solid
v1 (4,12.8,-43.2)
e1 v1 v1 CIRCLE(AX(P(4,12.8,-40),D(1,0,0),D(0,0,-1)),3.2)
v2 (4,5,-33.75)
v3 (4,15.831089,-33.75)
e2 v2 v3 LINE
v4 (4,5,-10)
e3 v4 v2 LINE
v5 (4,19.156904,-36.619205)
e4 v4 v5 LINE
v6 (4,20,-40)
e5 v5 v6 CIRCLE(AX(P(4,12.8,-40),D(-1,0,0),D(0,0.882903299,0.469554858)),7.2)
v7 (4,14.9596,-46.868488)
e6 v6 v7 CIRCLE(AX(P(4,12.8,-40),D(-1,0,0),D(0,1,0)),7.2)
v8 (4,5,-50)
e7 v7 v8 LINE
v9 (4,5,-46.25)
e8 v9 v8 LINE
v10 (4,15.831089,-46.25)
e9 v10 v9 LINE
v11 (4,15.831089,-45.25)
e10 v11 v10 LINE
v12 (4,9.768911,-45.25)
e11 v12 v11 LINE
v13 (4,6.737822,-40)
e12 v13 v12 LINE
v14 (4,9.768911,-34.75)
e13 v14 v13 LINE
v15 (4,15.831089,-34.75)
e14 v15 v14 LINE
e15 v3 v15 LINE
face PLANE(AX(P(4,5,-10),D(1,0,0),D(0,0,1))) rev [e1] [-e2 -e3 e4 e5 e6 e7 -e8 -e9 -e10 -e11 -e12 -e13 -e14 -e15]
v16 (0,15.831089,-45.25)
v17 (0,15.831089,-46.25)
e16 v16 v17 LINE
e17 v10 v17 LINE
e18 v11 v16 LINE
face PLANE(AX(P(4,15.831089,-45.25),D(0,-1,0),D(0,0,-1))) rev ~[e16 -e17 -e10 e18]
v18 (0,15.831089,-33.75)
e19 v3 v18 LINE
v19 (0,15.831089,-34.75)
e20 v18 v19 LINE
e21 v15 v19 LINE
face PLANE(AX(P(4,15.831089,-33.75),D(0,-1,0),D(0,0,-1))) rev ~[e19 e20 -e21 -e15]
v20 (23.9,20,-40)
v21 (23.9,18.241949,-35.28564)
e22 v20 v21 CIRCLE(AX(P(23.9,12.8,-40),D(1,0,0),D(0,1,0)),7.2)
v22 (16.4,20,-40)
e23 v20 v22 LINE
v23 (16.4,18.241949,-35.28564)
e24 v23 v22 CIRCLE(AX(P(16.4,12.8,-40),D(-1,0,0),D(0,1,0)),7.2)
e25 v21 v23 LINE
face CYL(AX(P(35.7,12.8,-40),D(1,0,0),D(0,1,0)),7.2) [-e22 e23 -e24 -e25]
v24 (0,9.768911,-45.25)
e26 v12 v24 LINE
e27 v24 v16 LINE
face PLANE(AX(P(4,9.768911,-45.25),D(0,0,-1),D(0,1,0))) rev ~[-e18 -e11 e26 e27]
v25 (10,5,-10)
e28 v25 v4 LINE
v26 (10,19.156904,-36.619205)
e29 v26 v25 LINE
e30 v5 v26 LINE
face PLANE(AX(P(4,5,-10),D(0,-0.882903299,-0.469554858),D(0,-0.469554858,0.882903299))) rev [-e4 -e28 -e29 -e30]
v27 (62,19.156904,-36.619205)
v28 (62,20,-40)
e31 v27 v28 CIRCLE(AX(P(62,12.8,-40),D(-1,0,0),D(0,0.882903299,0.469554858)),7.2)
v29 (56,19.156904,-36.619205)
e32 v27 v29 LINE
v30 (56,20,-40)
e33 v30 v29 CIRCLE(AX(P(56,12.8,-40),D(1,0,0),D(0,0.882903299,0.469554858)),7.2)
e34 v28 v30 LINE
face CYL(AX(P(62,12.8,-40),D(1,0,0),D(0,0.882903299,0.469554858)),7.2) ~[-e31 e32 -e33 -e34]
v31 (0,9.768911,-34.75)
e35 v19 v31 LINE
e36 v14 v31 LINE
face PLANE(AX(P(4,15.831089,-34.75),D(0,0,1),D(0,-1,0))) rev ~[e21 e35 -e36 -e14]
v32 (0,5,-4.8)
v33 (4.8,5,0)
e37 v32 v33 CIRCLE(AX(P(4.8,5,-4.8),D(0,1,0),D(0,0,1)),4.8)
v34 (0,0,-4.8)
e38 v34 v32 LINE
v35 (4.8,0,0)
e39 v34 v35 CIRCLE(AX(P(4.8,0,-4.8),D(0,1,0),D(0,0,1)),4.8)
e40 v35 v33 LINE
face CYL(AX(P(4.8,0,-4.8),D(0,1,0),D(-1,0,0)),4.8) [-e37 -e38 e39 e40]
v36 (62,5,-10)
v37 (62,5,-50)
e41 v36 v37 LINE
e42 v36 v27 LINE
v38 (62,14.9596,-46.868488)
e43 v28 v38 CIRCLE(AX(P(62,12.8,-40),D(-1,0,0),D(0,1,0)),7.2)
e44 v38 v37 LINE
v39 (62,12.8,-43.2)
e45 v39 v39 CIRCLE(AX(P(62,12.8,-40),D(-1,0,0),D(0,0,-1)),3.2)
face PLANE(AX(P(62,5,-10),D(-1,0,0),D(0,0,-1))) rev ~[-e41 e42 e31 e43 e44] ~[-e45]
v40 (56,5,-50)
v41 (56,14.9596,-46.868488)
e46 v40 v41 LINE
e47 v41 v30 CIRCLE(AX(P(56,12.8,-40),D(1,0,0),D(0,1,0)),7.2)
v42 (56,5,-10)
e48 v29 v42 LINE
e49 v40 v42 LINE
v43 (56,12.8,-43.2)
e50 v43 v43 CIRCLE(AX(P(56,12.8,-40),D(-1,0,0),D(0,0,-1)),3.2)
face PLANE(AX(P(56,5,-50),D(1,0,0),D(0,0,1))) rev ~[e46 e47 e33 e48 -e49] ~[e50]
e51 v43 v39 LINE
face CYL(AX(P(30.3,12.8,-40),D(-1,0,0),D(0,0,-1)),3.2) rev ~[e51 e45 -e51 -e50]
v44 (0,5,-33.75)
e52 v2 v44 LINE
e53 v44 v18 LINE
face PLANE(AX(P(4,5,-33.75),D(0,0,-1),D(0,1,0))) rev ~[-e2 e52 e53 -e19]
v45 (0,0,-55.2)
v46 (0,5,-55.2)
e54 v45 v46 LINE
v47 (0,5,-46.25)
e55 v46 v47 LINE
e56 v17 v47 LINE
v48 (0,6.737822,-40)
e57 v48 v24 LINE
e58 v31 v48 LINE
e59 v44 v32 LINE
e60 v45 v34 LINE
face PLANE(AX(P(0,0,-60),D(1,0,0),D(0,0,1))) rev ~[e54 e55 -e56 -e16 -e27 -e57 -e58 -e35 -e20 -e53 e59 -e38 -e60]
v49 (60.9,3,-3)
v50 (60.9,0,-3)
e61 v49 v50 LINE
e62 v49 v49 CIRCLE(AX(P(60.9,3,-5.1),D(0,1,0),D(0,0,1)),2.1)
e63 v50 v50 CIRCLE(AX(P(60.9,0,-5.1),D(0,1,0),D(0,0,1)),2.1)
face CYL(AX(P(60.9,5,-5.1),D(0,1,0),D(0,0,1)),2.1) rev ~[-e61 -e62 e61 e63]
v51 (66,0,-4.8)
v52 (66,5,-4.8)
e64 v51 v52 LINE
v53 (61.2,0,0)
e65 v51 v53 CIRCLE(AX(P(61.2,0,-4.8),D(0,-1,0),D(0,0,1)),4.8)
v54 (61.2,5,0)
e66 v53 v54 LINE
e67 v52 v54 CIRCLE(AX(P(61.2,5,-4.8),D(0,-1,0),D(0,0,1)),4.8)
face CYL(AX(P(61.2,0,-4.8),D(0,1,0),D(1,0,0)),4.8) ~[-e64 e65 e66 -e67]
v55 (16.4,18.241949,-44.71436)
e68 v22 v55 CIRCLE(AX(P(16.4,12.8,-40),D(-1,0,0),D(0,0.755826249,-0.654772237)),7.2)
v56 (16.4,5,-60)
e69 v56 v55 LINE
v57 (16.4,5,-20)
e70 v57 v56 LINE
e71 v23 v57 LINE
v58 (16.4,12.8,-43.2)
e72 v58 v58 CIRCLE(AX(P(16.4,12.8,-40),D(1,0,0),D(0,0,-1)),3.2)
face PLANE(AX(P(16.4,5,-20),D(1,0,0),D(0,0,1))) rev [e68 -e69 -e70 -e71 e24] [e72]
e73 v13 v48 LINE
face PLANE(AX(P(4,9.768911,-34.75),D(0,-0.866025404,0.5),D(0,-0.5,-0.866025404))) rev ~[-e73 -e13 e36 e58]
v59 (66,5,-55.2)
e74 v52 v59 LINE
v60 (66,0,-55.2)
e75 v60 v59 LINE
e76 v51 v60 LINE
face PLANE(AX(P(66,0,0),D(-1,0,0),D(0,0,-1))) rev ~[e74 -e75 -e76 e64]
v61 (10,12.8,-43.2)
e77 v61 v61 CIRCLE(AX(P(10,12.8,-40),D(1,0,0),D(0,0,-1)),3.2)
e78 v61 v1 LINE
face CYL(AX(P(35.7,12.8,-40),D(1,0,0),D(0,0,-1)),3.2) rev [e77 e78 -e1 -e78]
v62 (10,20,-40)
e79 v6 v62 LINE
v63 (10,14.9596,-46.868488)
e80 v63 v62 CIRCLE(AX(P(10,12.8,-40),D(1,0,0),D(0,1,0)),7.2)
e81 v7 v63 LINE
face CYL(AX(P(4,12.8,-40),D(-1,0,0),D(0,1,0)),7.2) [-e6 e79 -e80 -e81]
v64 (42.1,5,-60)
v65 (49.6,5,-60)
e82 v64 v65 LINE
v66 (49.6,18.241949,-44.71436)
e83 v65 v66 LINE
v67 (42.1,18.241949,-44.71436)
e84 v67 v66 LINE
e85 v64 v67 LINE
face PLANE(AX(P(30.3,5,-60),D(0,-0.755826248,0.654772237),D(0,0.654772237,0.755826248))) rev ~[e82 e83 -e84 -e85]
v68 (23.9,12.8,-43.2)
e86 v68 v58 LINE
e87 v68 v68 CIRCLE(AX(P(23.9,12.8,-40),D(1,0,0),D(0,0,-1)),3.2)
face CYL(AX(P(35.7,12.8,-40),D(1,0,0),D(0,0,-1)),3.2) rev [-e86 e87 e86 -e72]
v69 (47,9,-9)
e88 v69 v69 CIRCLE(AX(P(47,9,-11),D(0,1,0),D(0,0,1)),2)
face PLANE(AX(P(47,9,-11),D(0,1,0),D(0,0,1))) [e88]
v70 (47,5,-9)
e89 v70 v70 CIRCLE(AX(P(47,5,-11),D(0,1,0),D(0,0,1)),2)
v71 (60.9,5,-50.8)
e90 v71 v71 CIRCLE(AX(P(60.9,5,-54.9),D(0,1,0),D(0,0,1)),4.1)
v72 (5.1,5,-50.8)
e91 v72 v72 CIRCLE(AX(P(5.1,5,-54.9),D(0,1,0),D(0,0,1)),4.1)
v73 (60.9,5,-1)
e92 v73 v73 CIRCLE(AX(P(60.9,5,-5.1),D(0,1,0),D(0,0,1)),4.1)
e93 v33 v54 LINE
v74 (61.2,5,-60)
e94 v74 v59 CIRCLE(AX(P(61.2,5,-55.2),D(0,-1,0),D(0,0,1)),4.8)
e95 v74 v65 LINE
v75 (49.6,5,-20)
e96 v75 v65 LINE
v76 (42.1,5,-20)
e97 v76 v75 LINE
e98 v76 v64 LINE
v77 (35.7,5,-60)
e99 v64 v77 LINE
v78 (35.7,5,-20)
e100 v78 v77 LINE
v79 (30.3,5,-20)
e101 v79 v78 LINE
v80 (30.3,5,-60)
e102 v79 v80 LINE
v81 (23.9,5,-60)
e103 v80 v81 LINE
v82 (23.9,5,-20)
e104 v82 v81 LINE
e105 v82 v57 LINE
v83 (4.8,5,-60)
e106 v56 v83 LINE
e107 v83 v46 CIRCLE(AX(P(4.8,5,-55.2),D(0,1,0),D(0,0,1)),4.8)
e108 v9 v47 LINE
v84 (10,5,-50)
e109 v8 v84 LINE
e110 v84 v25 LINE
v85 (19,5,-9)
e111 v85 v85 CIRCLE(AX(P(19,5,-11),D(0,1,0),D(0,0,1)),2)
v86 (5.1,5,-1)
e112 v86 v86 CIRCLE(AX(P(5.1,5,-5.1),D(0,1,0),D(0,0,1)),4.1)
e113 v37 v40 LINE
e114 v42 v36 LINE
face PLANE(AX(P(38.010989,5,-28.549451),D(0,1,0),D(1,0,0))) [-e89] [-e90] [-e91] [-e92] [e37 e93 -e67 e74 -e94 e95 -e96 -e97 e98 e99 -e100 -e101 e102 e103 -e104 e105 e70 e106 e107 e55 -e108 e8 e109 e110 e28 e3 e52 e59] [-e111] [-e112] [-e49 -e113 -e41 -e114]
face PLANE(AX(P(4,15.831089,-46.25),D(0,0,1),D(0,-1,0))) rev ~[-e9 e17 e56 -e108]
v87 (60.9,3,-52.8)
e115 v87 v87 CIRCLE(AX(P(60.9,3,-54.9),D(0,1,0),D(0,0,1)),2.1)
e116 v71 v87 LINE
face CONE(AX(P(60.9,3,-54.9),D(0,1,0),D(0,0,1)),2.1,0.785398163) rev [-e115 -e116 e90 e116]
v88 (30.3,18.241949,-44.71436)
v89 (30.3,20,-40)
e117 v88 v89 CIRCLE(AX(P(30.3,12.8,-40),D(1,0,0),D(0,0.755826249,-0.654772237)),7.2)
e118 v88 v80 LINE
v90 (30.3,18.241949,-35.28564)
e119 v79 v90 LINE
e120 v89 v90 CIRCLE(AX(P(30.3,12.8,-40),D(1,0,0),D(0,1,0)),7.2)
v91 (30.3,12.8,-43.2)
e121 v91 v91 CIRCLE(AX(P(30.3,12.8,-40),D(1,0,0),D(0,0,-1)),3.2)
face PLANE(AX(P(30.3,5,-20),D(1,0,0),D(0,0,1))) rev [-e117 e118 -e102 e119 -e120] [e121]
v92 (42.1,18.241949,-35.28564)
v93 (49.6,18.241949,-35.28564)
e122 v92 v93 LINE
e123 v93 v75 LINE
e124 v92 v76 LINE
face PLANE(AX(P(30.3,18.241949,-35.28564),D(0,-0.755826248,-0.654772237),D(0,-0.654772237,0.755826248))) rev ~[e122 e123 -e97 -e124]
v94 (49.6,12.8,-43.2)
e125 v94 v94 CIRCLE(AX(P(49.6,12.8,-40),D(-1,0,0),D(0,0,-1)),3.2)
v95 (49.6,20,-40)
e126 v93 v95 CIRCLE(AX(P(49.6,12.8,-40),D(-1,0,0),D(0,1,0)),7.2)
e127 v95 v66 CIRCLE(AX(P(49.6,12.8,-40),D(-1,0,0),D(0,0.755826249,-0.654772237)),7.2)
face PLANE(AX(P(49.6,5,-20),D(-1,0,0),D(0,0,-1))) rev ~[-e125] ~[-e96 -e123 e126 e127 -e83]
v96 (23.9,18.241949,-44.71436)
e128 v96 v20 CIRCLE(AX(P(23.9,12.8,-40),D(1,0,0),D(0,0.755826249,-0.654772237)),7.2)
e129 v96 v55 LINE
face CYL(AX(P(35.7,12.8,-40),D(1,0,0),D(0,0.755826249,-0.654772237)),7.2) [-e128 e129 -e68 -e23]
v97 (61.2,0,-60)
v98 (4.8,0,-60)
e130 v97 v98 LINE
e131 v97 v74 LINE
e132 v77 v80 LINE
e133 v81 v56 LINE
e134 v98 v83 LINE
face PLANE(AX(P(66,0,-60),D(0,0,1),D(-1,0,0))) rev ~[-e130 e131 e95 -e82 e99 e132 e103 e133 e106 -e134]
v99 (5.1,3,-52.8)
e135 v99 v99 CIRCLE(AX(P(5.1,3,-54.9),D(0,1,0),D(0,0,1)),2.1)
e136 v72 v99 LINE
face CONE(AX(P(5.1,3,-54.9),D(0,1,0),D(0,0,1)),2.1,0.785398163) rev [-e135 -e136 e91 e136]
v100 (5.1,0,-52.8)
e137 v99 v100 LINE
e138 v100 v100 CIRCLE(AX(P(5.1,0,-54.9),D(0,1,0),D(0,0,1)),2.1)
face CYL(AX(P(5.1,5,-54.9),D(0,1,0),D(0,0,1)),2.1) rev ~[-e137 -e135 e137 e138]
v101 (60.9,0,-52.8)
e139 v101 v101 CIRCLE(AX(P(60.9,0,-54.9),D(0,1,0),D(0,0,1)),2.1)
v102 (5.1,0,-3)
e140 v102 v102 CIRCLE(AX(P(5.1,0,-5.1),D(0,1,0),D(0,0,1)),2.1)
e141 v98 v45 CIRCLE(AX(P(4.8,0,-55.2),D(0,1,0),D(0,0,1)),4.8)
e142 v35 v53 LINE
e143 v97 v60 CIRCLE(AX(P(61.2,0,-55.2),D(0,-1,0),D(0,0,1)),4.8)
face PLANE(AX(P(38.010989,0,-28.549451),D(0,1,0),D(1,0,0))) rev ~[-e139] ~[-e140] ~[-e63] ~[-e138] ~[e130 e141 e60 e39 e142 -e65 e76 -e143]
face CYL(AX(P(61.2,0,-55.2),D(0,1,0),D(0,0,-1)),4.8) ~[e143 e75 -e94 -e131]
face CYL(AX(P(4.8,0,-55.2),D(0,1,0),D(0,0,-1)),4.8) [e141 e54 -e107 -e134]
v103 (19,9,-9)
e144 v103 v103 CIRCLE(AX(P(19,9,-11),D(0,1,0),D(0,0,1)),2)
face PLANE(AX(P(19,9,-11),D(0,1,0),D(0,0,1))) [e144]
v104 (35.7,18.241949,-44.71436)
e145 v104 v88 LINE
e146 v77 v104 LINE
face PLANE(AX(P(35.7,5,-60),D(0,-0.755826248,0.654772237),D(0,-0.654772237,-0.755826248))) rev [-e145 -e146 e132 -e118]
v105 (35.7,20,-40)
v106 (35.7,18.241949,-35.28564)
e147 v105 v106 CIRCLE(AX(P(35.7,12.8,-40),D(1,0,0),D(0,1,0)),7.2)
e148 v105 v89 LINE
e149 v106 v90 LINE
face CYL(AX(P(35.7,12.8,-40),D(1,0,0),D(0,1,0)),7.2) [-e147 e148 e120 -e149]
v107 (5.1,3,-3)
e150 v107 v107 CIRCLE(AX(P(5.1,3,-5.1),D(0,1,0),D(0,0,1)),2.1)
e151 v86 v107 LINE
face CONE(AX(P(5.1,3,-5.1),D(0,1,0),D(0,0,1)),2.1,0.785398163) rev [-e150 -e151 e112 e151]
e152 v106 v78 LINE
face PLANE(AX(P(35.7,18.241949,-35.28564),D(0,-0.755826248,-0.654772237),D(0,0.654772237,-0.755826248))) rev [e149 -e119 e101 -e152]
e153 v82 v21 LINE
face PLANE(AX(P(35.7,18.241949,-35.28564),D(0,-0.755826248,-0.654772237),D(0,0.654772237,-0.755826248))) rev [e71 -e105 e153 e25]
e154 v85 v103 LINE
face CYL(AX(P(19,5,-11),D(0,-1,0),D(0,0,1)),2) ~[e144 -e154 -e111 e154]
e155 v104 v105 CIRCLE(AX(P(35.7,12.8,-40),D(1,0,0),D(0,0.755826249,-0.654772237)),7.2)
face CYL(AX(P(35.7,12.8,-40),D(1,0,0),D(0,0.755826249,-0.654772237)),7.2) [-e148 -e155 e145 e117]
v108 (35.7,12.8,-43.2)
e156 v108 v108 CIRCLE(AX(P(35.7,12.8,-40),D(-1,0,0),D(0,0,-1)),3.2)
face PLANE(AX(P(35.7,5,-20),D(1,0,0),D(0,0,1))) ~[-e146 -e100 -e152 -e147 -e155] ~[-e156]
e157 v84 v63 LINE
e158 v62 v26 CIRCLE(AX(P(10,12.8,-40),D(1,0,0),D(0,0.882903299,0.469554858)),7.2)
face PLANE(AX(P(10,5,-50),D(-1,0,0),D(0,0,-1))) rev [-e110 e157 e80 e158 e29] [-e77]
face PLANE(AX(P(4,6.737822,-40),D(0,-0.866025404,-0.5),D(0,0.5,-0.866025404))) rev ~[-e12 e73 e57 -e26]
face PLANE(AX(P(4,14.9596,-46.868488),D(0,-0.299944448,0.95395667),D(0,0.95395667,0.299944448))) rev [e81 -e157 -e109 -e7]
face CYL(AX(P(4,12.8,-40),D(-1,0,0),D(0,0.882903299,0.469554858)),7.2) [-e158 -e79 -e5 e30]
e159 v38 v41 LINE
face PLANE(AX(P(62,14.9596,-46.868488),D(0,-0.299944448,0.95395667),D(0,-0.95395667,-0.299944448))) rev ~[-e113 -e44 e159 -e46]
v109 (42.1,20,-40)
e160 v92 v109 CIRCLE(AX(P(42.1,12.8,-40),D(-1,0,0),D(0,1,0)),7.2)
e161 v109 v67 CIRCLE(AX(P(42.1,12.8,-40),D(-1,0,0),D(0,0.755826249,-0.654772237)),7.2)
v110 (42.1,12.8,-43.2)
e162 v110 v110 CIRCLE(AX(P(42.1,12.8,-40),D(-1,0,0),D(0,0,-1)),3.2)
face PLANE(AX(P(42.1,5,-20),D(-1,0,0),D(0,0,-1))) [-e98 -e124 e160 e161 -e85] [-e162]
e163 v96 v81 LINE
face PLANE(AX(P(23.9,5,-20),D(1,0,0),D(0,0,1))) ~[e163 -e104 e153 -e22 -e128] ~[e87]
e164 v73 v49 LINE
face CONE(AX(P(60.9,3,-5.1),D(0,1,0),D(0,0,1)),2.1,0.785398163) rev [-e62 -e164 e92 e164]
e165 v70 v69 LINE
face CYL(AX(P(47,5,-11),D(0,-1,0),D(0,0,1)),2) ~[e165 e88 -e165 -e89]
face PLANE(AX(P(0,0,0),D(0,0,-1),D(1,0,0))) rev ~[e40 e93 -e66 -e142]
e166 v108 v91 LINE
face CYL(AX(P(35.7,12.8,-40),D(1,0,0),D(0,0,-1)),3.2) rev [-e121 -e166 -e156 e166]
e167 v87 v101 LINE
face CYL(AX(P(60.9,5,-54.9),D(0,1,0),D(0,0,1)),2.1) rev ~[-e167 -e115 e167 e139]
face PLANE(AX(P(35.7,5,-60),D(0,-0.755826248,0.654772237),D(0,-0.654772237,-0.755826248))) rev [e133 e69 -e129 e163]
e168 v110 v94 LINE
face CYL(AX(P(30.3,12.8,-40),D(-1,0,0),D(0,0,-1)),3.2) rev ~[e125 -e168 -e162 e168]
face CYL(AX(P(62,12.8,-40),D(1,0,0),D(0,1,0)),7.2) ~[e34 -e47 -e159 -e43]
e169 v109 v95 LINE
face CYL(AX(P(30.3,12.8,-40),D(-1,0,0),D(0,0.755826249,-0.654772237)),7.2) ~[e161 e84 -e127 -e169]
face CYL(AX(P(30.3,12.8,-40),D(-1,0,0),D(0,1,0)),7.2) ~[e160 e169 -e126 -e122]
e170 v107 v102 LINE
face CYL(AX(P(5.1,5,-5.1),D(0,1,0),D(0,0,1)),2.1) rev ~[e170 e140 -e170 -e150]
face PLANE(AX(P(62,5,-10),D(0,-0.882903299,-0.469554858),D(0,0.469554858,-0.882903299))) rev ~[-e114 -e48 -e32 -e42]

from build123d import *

# Parameters (mm, degrees)
SKETCH4_W           = 6.4
SKETCH4_H           = 40
SKETCH4_W_2         = 5.4
SKETCH4_W_3         = 7.5
BOSS_EXTRUDE4_DEPTH = 5
SKETCH6_W           = 5.4
SKETCH6_H           = 40
SKETCH6_W_2         = 7.5
BOSS_EXTRUDE5_DEPTH = 15
SKETCH7_R           = 3.2
CUT_EXTRUDE2_DEPTH  = 73.625684162
CUT_EXTRUDE3_REACH  = 74.626
CUT_EXTRUDE4_REACH  = 90.566
CUT_EXTRUDE5_REACH  = 92.449
SKETCH10_R          = 2.1
CHAMFER1_SIZE       = 2
FILLET1_R           = 4.8
SKETCH11_R          = 2
BOSS_EXTRUDE6_DEPTH = 4
BOSS_EXTRUDE7_DEPTH = 4


with BuildPart() as part:
    # Sketch4 → Boss-Extrude4 (new body)
    with BuildSketch(Plane(origin=(0, 0, 0), x_dir=(1, 0, 0), z_dir=(0, 1, 0))):
        Polygon((0, 60), (0, 0), (66, 0), (66, 60), (56, 60), (56, 50), (62, 50), (62, 10), (56, 10), (56, 20), (49.6, 20), (42.1, 20), (35.7, 20), (30.3, 20), (30.3, 60), align=None)
        with Locations((38.9, 40)):
            Rectangle(SKETCH4_W, SKETCH4_H)
        with Locations((33, 40)):
            Rectangle(SKETCH4_W_2, SKETCH4_H)
        with Locations((45.85, 40)):
            Rectangle(SKETCH4_W_3, SKETCH4_H)
        Polygon((56, 50), (56, 60), (49.6, 60), (49.6, 20), (56, 20), align=None)
        Polygon((62, 50), (56, 50), (56, 20), (56, 10), (62, 10), align=None)
    extrude(amount=BOSS_EXTRUDE4_DEPTH)

    # Sketch6 → Boss-Extrude5 (add)
    with BuildSketch(Plane(origin=(0, 5, 0), x_dir=(1, 0, 0), z_dir=(0, 1, 0))):
        with Locations((33, 40)):
            Rectangle(SKETCH6_W, SKETCH6_H)
        with Locations((45.85, 40)):
            Rectangle(SKETCH6_W_2, SKETCH6_H)
        Polygon((62, 50), (56, 50), (56, 20), (56, 10), (62, 10), align=None)
    boss_extrude5 = extrude(amount=BOSS_EXTRUDE5_DEPTH)

    # Sketch7 → Cut-Extrude2 (cut, through all)
    with BuildSketch(Plane.ZY.offset(-30.3)):
        with Locations(Location((-40, 12.8, 0), (0, 0, 180))):
            Circle(SKETCH7_R)
    cut_extrude2 = extrude(amount=-CUT_EXTRUDE2_DEPTH, mode=Mode.SUBTRACT)

    # Cut-Extrude3: up to this face of the body (flat: up to its plane)
    cut_extrude3_end = Plane(part.part.faces().sort_by_distance((49.6, 12.5, -20.427200187))[0])
    # Sketch8 → Cut-Extrude3 (cut, up to the picked face)
    with BuildSketch(Plane.ZY.offset(-30.3), mode=Mode.PRIVATE) as cut_extrude3_sk1:
        with BuildLine():
            Line((-60, 20), (-60, 5))
            Line((-60, 5), (-44.714360106, 18.241948989))
            ThreePointArc((-44.714360106, 18.241948989), (-42.515747134, 19.546185319), (-40, 20))
            Line((-40, 20), (-60, 20))
        make_face()
    cut_extrude3_tool1 = split(extrude(cut_extrude3_sk1.sketch, amount=-CUT_EXTRUDE3_REACH, mode=Mode.PRIVATE), bisect_by=cut_extrude3_end, keep=Keep.BOTH, mode=Mode.PRIVATE)
    # Sketch8 → Cut-Extrude3 (cut, up to the picked face)
    with BuildSketch(Plane.ZY.offset(-30.3), mode=Mode.PRIVATE) as cut_extrude3_sk2:
        with BuildLine():
            Line((-35.285639894, 18.241948989), (-20, 5))
            Line((-20, 5), (-20, 20))
            Line((-20, 20), (-40, 20))
            ThreePointArc((-40, 20), (-37.484252866, 19.546185319), (-35.285639894, 18.241948989))
        make_face()
    cut_extrude3_tool2 = split(extrude(cut_extrude3_sk2.sketch, amount=-CUT_EXTRUDE3_REACH, mode=Mode.PRIVATE), bisect_by=cut_extrude3_end, keep=Keep.BOTH, mode=Mode.PRIVATE)
    cut_extrude3_1 = cut_extrude3_tool1.solids().sort_by(Axis((30.3, 15.029403, -54.154339), (1, 0, 0)))[0]
    add(cut_extrude3_1, mode=Mode.SUBTRACT)
    cut_extrude3_2 = cut_extrude3_tool2.solids().sort_by(Axis((30.3, 15.029403, -25.845661), (1, 0, 0)))[0]
    add(cut_extrude3_2, mode=Mode.SUBTRACT)
    cut_extrude3 = cut_extrude3_1 + cut_extrude3_2  # Cut-Extrude3 as one shape, for the pattern or mirror that repeats it

    # Sketch9 → Cut-Extrude4 (cut, up to next)
    with BuildSketch(Plane(origin=(62, 0, 0), x_dir=(0, 0, -1), z_dir=(1, 0, 0)), mode=Mode.PRIVATE) as cut_extrude4_sk1:
        with BuildLine():
            ThreePointArc((36.619205024, 19.156903753), (38.257832819, 19.786047059), (40, 20))
            Line((40, 20), (10, 20))
            Line((10, 20), (10, 5))
            Line((10, 5), (36.619205024, 19.156903753))
        make_face()
    cut_extrude4_tool1 = extrude(cut_extrude4_sk1.sketch, amount=-CUT_EXTRUDE4_REACH, mode=Mode.PRIVATE) & part.part
    # Sketch9 → Cut-Extrude4 (cut, up to next)
    with BuildSketch(Plane(origin=(62, 0, 0), x_dir=(0, 0, -1), z_dir=(1, 0, 0)), mode=Mode.PRIVATE) as cut_extrude4_sk2:
        with BuildLine():
            ThreePointArc((40, 20), (44.259746459, 18.604701552), (46.868488023, 14.959600029))
            Line((46.868488023, 14.959600029), (50, 5))
            Line((50, 5), (50, 20))
            Line((50, 20), (40, 20))
        make_face()
    cut_extrude4_tool2 = extrude(cut_extrude4_sk2.sketch, amount=-CUT_EXTRUDE4_REACH, mode=Mode.PRIVATE) & part.part
    cut_extrude4_1 = cut_extrude4_tool1.solids().sort_by_distance((62, 15.005893, -19.424487))[0]
    add(cut_extrude4_1, mode=Mode.SUBTRACT)
    cut_extrude4_2 = cut_extrude4_tool2.solids().sort_by_distance((62, 15.504148, -47.92116))[0]
    add(cut_extrude4_2, mode=Mode.SUBTRACT)
    cut_extrude4 = cut_extrude4_1 + cut_extrude4_2  # Cut-Extrude4 as one shape, for the pattern or mirror that repeats it

    # Mirror1: Boss-Extrude5, Cut-Extrude2, Cut-Extrude3, Cut-Extrude4 across plane
    add(boss_extrude5.mirror(Plane.ZY.offset(-33)))
    add(cut_extrude2.mirror(Plane.ZY.offset(-33)), mode=Mode.SUBTRACT)
    add(cut_extrude3.mirror(Plane.ZY.offset(-33)), mode=Mode.SUBTRACT)
    add(cut_extrude4.mirror(Plane.ZY.offset(-33)), mode=Mode.SUBTRACT)

    # Sketch10 → Cut-Extrude5 (cut, up to next)
    with BuildSketch(Plane(origin=(0, 5, 0), x_dir=(1, 0, 0), z_dir=(0, 1, 0)), mode=Mode.PRIVATE) as cut_extrude5_sk1:
        with Locations(Location((5.1, 54.9, 0), (0, 0, 270))):
            Circle(SKETCH10_R)
    cut_extrude5_tool1 = extrude(cut_extrude5_sk1.sketch, amount=-CUT_EXTRUDE5_REACH, mode=Mode.PRIVATE) & part.part
    # Sketch10 → Cut-Extrude5 (cut, up to next)
    with BuildSketch(Plane(origin=(0, 5, 0), x_dir=(1, 0, 0), z_dir=(0, 1, 0)), mode=Mode.PRIVATE) as cut_extrude5_sk2:
        with Locations(Location((60.9, 54.9, 0), (0, 0, 270))):
            Circle(SKETCH10_R)
    cut_extrude5_tool2 = extrude(cut_extrude5_sk2.sketch, amount=-CUT_EXTRUDE5_REACH, mode=Mode.PRIVATE) & part.part
    # Sketch10 → Cut-Extrude5 (cut, up to next)
    with BuildSketch(Plane(origin=(0, 5, 0), x_dir=(1, 0, 0), z_dir=(0, 1, 0)), mode=Mode.PRIVATE) as cut_extrude5_sk3:
        with Locations(Location((60.9, 5.1, 0), (0, 0, 270))):
            Circle(SKETCH10_R)
    cut_extrude5_tool3 = extrude(cut_extrude5_sk3.sketch, amount=-CUT_EXTRUDE5_REACH, mode=Mode.PRIVATE) & part.part
    # Sketch10 → Cut-Extrude5 (cut, up to next)
    with BuildSketch(Plane(origin=(0, 5, 0), x_dir=(1, 0, 0), z_dir=(0, 1, 0)), mode=Mode.PRIVATE) as cut_extrude5_sk4:
        with Locations(Location((5.1, 5.1, 0), (0, 0, 270))):
            Circle(SKETCH10_R)
    cut_extrude5_tool4 = extrude(cut_extrude5_sk4.sketch, amount=-CUT_EXTRUDE5_REACH, mode=Mode.PRIVATE) & part.part
    add(cut_extrude5_tool1.solids().sort_by_distance((5.1, 5, -54.9))[0], mode=Mode.SUBTRACT)
    add(cut_extrude5_tool2.solids().sort_by_distance((60.9, 5, -54.9))[0], mode=Mode.SUBTRACT)
    add(cut_extrude5_tool3.solids().sort_by_distance((60.9, 5, -5.1))[0], mode=Mode.SUBTRACT)
    add(cut_extrude5_tool4.solids().sort_by_distance((5.1, 5, -5.1))[0], mode=Mode.SUBTRACT)

    # Chamfer1
    chamfer1_edges = [part.edges().sort_by_distance(p)[0] for p in [
        (5.1, 5, -7.2),
        (60.9, 5, -7.2),
        (60.9, 5, -57),
        (5.1, 5, -57),
    ]]
    chamfer(chamfer1_edges, length=CHAMFER1_SIZE)

    # Fillet1
    fillet1_edges = [part.edges().sort_by_distance(p)[0] for p in [
        (66, 2.5, 0),
        (0, 2.5, 0),
        (0, 2.5, -60),
        (66, 2.5, -60),
    ]]
    fillet(fillet1_edges, radius=FILLET1_R)

    # Sketch11 → Boss-Extrude6 (add)
    with BuildSketch(Plane(origin=(0, 5, 0), x_dir=(1, 0, 0), z_dir=(0, 1, 0))):
        with Locations(Location((19, 11, 0), (0, 0, 270))):
            Circle(SKETCH11_R)
        with Locations(Location((47, 11, 0), (0, 0, 270))):
            Circle(SKETCH11_R)
    extrude(amount=BOSS_EXTRUDE6_DEPTH)

    # Sketch12 → Boss-Extrude7 (add)
    with BuildSketch(Plane.ZY.offset(-4)):
        Polygon((-45.25, 9.768911087), (-45.25, 15.831088913), (-46.25, 15.831088913), (-46.25, 5), (-33.75, 5), (-33.75, 15.831088913), (-34.75, 15.831088913), (-34.75, 9.768911087), (-40, 6.737822174), align=None)
    extrude(amount=BOSS_EXTRUDE7_DEPTH)


solid = part.part
